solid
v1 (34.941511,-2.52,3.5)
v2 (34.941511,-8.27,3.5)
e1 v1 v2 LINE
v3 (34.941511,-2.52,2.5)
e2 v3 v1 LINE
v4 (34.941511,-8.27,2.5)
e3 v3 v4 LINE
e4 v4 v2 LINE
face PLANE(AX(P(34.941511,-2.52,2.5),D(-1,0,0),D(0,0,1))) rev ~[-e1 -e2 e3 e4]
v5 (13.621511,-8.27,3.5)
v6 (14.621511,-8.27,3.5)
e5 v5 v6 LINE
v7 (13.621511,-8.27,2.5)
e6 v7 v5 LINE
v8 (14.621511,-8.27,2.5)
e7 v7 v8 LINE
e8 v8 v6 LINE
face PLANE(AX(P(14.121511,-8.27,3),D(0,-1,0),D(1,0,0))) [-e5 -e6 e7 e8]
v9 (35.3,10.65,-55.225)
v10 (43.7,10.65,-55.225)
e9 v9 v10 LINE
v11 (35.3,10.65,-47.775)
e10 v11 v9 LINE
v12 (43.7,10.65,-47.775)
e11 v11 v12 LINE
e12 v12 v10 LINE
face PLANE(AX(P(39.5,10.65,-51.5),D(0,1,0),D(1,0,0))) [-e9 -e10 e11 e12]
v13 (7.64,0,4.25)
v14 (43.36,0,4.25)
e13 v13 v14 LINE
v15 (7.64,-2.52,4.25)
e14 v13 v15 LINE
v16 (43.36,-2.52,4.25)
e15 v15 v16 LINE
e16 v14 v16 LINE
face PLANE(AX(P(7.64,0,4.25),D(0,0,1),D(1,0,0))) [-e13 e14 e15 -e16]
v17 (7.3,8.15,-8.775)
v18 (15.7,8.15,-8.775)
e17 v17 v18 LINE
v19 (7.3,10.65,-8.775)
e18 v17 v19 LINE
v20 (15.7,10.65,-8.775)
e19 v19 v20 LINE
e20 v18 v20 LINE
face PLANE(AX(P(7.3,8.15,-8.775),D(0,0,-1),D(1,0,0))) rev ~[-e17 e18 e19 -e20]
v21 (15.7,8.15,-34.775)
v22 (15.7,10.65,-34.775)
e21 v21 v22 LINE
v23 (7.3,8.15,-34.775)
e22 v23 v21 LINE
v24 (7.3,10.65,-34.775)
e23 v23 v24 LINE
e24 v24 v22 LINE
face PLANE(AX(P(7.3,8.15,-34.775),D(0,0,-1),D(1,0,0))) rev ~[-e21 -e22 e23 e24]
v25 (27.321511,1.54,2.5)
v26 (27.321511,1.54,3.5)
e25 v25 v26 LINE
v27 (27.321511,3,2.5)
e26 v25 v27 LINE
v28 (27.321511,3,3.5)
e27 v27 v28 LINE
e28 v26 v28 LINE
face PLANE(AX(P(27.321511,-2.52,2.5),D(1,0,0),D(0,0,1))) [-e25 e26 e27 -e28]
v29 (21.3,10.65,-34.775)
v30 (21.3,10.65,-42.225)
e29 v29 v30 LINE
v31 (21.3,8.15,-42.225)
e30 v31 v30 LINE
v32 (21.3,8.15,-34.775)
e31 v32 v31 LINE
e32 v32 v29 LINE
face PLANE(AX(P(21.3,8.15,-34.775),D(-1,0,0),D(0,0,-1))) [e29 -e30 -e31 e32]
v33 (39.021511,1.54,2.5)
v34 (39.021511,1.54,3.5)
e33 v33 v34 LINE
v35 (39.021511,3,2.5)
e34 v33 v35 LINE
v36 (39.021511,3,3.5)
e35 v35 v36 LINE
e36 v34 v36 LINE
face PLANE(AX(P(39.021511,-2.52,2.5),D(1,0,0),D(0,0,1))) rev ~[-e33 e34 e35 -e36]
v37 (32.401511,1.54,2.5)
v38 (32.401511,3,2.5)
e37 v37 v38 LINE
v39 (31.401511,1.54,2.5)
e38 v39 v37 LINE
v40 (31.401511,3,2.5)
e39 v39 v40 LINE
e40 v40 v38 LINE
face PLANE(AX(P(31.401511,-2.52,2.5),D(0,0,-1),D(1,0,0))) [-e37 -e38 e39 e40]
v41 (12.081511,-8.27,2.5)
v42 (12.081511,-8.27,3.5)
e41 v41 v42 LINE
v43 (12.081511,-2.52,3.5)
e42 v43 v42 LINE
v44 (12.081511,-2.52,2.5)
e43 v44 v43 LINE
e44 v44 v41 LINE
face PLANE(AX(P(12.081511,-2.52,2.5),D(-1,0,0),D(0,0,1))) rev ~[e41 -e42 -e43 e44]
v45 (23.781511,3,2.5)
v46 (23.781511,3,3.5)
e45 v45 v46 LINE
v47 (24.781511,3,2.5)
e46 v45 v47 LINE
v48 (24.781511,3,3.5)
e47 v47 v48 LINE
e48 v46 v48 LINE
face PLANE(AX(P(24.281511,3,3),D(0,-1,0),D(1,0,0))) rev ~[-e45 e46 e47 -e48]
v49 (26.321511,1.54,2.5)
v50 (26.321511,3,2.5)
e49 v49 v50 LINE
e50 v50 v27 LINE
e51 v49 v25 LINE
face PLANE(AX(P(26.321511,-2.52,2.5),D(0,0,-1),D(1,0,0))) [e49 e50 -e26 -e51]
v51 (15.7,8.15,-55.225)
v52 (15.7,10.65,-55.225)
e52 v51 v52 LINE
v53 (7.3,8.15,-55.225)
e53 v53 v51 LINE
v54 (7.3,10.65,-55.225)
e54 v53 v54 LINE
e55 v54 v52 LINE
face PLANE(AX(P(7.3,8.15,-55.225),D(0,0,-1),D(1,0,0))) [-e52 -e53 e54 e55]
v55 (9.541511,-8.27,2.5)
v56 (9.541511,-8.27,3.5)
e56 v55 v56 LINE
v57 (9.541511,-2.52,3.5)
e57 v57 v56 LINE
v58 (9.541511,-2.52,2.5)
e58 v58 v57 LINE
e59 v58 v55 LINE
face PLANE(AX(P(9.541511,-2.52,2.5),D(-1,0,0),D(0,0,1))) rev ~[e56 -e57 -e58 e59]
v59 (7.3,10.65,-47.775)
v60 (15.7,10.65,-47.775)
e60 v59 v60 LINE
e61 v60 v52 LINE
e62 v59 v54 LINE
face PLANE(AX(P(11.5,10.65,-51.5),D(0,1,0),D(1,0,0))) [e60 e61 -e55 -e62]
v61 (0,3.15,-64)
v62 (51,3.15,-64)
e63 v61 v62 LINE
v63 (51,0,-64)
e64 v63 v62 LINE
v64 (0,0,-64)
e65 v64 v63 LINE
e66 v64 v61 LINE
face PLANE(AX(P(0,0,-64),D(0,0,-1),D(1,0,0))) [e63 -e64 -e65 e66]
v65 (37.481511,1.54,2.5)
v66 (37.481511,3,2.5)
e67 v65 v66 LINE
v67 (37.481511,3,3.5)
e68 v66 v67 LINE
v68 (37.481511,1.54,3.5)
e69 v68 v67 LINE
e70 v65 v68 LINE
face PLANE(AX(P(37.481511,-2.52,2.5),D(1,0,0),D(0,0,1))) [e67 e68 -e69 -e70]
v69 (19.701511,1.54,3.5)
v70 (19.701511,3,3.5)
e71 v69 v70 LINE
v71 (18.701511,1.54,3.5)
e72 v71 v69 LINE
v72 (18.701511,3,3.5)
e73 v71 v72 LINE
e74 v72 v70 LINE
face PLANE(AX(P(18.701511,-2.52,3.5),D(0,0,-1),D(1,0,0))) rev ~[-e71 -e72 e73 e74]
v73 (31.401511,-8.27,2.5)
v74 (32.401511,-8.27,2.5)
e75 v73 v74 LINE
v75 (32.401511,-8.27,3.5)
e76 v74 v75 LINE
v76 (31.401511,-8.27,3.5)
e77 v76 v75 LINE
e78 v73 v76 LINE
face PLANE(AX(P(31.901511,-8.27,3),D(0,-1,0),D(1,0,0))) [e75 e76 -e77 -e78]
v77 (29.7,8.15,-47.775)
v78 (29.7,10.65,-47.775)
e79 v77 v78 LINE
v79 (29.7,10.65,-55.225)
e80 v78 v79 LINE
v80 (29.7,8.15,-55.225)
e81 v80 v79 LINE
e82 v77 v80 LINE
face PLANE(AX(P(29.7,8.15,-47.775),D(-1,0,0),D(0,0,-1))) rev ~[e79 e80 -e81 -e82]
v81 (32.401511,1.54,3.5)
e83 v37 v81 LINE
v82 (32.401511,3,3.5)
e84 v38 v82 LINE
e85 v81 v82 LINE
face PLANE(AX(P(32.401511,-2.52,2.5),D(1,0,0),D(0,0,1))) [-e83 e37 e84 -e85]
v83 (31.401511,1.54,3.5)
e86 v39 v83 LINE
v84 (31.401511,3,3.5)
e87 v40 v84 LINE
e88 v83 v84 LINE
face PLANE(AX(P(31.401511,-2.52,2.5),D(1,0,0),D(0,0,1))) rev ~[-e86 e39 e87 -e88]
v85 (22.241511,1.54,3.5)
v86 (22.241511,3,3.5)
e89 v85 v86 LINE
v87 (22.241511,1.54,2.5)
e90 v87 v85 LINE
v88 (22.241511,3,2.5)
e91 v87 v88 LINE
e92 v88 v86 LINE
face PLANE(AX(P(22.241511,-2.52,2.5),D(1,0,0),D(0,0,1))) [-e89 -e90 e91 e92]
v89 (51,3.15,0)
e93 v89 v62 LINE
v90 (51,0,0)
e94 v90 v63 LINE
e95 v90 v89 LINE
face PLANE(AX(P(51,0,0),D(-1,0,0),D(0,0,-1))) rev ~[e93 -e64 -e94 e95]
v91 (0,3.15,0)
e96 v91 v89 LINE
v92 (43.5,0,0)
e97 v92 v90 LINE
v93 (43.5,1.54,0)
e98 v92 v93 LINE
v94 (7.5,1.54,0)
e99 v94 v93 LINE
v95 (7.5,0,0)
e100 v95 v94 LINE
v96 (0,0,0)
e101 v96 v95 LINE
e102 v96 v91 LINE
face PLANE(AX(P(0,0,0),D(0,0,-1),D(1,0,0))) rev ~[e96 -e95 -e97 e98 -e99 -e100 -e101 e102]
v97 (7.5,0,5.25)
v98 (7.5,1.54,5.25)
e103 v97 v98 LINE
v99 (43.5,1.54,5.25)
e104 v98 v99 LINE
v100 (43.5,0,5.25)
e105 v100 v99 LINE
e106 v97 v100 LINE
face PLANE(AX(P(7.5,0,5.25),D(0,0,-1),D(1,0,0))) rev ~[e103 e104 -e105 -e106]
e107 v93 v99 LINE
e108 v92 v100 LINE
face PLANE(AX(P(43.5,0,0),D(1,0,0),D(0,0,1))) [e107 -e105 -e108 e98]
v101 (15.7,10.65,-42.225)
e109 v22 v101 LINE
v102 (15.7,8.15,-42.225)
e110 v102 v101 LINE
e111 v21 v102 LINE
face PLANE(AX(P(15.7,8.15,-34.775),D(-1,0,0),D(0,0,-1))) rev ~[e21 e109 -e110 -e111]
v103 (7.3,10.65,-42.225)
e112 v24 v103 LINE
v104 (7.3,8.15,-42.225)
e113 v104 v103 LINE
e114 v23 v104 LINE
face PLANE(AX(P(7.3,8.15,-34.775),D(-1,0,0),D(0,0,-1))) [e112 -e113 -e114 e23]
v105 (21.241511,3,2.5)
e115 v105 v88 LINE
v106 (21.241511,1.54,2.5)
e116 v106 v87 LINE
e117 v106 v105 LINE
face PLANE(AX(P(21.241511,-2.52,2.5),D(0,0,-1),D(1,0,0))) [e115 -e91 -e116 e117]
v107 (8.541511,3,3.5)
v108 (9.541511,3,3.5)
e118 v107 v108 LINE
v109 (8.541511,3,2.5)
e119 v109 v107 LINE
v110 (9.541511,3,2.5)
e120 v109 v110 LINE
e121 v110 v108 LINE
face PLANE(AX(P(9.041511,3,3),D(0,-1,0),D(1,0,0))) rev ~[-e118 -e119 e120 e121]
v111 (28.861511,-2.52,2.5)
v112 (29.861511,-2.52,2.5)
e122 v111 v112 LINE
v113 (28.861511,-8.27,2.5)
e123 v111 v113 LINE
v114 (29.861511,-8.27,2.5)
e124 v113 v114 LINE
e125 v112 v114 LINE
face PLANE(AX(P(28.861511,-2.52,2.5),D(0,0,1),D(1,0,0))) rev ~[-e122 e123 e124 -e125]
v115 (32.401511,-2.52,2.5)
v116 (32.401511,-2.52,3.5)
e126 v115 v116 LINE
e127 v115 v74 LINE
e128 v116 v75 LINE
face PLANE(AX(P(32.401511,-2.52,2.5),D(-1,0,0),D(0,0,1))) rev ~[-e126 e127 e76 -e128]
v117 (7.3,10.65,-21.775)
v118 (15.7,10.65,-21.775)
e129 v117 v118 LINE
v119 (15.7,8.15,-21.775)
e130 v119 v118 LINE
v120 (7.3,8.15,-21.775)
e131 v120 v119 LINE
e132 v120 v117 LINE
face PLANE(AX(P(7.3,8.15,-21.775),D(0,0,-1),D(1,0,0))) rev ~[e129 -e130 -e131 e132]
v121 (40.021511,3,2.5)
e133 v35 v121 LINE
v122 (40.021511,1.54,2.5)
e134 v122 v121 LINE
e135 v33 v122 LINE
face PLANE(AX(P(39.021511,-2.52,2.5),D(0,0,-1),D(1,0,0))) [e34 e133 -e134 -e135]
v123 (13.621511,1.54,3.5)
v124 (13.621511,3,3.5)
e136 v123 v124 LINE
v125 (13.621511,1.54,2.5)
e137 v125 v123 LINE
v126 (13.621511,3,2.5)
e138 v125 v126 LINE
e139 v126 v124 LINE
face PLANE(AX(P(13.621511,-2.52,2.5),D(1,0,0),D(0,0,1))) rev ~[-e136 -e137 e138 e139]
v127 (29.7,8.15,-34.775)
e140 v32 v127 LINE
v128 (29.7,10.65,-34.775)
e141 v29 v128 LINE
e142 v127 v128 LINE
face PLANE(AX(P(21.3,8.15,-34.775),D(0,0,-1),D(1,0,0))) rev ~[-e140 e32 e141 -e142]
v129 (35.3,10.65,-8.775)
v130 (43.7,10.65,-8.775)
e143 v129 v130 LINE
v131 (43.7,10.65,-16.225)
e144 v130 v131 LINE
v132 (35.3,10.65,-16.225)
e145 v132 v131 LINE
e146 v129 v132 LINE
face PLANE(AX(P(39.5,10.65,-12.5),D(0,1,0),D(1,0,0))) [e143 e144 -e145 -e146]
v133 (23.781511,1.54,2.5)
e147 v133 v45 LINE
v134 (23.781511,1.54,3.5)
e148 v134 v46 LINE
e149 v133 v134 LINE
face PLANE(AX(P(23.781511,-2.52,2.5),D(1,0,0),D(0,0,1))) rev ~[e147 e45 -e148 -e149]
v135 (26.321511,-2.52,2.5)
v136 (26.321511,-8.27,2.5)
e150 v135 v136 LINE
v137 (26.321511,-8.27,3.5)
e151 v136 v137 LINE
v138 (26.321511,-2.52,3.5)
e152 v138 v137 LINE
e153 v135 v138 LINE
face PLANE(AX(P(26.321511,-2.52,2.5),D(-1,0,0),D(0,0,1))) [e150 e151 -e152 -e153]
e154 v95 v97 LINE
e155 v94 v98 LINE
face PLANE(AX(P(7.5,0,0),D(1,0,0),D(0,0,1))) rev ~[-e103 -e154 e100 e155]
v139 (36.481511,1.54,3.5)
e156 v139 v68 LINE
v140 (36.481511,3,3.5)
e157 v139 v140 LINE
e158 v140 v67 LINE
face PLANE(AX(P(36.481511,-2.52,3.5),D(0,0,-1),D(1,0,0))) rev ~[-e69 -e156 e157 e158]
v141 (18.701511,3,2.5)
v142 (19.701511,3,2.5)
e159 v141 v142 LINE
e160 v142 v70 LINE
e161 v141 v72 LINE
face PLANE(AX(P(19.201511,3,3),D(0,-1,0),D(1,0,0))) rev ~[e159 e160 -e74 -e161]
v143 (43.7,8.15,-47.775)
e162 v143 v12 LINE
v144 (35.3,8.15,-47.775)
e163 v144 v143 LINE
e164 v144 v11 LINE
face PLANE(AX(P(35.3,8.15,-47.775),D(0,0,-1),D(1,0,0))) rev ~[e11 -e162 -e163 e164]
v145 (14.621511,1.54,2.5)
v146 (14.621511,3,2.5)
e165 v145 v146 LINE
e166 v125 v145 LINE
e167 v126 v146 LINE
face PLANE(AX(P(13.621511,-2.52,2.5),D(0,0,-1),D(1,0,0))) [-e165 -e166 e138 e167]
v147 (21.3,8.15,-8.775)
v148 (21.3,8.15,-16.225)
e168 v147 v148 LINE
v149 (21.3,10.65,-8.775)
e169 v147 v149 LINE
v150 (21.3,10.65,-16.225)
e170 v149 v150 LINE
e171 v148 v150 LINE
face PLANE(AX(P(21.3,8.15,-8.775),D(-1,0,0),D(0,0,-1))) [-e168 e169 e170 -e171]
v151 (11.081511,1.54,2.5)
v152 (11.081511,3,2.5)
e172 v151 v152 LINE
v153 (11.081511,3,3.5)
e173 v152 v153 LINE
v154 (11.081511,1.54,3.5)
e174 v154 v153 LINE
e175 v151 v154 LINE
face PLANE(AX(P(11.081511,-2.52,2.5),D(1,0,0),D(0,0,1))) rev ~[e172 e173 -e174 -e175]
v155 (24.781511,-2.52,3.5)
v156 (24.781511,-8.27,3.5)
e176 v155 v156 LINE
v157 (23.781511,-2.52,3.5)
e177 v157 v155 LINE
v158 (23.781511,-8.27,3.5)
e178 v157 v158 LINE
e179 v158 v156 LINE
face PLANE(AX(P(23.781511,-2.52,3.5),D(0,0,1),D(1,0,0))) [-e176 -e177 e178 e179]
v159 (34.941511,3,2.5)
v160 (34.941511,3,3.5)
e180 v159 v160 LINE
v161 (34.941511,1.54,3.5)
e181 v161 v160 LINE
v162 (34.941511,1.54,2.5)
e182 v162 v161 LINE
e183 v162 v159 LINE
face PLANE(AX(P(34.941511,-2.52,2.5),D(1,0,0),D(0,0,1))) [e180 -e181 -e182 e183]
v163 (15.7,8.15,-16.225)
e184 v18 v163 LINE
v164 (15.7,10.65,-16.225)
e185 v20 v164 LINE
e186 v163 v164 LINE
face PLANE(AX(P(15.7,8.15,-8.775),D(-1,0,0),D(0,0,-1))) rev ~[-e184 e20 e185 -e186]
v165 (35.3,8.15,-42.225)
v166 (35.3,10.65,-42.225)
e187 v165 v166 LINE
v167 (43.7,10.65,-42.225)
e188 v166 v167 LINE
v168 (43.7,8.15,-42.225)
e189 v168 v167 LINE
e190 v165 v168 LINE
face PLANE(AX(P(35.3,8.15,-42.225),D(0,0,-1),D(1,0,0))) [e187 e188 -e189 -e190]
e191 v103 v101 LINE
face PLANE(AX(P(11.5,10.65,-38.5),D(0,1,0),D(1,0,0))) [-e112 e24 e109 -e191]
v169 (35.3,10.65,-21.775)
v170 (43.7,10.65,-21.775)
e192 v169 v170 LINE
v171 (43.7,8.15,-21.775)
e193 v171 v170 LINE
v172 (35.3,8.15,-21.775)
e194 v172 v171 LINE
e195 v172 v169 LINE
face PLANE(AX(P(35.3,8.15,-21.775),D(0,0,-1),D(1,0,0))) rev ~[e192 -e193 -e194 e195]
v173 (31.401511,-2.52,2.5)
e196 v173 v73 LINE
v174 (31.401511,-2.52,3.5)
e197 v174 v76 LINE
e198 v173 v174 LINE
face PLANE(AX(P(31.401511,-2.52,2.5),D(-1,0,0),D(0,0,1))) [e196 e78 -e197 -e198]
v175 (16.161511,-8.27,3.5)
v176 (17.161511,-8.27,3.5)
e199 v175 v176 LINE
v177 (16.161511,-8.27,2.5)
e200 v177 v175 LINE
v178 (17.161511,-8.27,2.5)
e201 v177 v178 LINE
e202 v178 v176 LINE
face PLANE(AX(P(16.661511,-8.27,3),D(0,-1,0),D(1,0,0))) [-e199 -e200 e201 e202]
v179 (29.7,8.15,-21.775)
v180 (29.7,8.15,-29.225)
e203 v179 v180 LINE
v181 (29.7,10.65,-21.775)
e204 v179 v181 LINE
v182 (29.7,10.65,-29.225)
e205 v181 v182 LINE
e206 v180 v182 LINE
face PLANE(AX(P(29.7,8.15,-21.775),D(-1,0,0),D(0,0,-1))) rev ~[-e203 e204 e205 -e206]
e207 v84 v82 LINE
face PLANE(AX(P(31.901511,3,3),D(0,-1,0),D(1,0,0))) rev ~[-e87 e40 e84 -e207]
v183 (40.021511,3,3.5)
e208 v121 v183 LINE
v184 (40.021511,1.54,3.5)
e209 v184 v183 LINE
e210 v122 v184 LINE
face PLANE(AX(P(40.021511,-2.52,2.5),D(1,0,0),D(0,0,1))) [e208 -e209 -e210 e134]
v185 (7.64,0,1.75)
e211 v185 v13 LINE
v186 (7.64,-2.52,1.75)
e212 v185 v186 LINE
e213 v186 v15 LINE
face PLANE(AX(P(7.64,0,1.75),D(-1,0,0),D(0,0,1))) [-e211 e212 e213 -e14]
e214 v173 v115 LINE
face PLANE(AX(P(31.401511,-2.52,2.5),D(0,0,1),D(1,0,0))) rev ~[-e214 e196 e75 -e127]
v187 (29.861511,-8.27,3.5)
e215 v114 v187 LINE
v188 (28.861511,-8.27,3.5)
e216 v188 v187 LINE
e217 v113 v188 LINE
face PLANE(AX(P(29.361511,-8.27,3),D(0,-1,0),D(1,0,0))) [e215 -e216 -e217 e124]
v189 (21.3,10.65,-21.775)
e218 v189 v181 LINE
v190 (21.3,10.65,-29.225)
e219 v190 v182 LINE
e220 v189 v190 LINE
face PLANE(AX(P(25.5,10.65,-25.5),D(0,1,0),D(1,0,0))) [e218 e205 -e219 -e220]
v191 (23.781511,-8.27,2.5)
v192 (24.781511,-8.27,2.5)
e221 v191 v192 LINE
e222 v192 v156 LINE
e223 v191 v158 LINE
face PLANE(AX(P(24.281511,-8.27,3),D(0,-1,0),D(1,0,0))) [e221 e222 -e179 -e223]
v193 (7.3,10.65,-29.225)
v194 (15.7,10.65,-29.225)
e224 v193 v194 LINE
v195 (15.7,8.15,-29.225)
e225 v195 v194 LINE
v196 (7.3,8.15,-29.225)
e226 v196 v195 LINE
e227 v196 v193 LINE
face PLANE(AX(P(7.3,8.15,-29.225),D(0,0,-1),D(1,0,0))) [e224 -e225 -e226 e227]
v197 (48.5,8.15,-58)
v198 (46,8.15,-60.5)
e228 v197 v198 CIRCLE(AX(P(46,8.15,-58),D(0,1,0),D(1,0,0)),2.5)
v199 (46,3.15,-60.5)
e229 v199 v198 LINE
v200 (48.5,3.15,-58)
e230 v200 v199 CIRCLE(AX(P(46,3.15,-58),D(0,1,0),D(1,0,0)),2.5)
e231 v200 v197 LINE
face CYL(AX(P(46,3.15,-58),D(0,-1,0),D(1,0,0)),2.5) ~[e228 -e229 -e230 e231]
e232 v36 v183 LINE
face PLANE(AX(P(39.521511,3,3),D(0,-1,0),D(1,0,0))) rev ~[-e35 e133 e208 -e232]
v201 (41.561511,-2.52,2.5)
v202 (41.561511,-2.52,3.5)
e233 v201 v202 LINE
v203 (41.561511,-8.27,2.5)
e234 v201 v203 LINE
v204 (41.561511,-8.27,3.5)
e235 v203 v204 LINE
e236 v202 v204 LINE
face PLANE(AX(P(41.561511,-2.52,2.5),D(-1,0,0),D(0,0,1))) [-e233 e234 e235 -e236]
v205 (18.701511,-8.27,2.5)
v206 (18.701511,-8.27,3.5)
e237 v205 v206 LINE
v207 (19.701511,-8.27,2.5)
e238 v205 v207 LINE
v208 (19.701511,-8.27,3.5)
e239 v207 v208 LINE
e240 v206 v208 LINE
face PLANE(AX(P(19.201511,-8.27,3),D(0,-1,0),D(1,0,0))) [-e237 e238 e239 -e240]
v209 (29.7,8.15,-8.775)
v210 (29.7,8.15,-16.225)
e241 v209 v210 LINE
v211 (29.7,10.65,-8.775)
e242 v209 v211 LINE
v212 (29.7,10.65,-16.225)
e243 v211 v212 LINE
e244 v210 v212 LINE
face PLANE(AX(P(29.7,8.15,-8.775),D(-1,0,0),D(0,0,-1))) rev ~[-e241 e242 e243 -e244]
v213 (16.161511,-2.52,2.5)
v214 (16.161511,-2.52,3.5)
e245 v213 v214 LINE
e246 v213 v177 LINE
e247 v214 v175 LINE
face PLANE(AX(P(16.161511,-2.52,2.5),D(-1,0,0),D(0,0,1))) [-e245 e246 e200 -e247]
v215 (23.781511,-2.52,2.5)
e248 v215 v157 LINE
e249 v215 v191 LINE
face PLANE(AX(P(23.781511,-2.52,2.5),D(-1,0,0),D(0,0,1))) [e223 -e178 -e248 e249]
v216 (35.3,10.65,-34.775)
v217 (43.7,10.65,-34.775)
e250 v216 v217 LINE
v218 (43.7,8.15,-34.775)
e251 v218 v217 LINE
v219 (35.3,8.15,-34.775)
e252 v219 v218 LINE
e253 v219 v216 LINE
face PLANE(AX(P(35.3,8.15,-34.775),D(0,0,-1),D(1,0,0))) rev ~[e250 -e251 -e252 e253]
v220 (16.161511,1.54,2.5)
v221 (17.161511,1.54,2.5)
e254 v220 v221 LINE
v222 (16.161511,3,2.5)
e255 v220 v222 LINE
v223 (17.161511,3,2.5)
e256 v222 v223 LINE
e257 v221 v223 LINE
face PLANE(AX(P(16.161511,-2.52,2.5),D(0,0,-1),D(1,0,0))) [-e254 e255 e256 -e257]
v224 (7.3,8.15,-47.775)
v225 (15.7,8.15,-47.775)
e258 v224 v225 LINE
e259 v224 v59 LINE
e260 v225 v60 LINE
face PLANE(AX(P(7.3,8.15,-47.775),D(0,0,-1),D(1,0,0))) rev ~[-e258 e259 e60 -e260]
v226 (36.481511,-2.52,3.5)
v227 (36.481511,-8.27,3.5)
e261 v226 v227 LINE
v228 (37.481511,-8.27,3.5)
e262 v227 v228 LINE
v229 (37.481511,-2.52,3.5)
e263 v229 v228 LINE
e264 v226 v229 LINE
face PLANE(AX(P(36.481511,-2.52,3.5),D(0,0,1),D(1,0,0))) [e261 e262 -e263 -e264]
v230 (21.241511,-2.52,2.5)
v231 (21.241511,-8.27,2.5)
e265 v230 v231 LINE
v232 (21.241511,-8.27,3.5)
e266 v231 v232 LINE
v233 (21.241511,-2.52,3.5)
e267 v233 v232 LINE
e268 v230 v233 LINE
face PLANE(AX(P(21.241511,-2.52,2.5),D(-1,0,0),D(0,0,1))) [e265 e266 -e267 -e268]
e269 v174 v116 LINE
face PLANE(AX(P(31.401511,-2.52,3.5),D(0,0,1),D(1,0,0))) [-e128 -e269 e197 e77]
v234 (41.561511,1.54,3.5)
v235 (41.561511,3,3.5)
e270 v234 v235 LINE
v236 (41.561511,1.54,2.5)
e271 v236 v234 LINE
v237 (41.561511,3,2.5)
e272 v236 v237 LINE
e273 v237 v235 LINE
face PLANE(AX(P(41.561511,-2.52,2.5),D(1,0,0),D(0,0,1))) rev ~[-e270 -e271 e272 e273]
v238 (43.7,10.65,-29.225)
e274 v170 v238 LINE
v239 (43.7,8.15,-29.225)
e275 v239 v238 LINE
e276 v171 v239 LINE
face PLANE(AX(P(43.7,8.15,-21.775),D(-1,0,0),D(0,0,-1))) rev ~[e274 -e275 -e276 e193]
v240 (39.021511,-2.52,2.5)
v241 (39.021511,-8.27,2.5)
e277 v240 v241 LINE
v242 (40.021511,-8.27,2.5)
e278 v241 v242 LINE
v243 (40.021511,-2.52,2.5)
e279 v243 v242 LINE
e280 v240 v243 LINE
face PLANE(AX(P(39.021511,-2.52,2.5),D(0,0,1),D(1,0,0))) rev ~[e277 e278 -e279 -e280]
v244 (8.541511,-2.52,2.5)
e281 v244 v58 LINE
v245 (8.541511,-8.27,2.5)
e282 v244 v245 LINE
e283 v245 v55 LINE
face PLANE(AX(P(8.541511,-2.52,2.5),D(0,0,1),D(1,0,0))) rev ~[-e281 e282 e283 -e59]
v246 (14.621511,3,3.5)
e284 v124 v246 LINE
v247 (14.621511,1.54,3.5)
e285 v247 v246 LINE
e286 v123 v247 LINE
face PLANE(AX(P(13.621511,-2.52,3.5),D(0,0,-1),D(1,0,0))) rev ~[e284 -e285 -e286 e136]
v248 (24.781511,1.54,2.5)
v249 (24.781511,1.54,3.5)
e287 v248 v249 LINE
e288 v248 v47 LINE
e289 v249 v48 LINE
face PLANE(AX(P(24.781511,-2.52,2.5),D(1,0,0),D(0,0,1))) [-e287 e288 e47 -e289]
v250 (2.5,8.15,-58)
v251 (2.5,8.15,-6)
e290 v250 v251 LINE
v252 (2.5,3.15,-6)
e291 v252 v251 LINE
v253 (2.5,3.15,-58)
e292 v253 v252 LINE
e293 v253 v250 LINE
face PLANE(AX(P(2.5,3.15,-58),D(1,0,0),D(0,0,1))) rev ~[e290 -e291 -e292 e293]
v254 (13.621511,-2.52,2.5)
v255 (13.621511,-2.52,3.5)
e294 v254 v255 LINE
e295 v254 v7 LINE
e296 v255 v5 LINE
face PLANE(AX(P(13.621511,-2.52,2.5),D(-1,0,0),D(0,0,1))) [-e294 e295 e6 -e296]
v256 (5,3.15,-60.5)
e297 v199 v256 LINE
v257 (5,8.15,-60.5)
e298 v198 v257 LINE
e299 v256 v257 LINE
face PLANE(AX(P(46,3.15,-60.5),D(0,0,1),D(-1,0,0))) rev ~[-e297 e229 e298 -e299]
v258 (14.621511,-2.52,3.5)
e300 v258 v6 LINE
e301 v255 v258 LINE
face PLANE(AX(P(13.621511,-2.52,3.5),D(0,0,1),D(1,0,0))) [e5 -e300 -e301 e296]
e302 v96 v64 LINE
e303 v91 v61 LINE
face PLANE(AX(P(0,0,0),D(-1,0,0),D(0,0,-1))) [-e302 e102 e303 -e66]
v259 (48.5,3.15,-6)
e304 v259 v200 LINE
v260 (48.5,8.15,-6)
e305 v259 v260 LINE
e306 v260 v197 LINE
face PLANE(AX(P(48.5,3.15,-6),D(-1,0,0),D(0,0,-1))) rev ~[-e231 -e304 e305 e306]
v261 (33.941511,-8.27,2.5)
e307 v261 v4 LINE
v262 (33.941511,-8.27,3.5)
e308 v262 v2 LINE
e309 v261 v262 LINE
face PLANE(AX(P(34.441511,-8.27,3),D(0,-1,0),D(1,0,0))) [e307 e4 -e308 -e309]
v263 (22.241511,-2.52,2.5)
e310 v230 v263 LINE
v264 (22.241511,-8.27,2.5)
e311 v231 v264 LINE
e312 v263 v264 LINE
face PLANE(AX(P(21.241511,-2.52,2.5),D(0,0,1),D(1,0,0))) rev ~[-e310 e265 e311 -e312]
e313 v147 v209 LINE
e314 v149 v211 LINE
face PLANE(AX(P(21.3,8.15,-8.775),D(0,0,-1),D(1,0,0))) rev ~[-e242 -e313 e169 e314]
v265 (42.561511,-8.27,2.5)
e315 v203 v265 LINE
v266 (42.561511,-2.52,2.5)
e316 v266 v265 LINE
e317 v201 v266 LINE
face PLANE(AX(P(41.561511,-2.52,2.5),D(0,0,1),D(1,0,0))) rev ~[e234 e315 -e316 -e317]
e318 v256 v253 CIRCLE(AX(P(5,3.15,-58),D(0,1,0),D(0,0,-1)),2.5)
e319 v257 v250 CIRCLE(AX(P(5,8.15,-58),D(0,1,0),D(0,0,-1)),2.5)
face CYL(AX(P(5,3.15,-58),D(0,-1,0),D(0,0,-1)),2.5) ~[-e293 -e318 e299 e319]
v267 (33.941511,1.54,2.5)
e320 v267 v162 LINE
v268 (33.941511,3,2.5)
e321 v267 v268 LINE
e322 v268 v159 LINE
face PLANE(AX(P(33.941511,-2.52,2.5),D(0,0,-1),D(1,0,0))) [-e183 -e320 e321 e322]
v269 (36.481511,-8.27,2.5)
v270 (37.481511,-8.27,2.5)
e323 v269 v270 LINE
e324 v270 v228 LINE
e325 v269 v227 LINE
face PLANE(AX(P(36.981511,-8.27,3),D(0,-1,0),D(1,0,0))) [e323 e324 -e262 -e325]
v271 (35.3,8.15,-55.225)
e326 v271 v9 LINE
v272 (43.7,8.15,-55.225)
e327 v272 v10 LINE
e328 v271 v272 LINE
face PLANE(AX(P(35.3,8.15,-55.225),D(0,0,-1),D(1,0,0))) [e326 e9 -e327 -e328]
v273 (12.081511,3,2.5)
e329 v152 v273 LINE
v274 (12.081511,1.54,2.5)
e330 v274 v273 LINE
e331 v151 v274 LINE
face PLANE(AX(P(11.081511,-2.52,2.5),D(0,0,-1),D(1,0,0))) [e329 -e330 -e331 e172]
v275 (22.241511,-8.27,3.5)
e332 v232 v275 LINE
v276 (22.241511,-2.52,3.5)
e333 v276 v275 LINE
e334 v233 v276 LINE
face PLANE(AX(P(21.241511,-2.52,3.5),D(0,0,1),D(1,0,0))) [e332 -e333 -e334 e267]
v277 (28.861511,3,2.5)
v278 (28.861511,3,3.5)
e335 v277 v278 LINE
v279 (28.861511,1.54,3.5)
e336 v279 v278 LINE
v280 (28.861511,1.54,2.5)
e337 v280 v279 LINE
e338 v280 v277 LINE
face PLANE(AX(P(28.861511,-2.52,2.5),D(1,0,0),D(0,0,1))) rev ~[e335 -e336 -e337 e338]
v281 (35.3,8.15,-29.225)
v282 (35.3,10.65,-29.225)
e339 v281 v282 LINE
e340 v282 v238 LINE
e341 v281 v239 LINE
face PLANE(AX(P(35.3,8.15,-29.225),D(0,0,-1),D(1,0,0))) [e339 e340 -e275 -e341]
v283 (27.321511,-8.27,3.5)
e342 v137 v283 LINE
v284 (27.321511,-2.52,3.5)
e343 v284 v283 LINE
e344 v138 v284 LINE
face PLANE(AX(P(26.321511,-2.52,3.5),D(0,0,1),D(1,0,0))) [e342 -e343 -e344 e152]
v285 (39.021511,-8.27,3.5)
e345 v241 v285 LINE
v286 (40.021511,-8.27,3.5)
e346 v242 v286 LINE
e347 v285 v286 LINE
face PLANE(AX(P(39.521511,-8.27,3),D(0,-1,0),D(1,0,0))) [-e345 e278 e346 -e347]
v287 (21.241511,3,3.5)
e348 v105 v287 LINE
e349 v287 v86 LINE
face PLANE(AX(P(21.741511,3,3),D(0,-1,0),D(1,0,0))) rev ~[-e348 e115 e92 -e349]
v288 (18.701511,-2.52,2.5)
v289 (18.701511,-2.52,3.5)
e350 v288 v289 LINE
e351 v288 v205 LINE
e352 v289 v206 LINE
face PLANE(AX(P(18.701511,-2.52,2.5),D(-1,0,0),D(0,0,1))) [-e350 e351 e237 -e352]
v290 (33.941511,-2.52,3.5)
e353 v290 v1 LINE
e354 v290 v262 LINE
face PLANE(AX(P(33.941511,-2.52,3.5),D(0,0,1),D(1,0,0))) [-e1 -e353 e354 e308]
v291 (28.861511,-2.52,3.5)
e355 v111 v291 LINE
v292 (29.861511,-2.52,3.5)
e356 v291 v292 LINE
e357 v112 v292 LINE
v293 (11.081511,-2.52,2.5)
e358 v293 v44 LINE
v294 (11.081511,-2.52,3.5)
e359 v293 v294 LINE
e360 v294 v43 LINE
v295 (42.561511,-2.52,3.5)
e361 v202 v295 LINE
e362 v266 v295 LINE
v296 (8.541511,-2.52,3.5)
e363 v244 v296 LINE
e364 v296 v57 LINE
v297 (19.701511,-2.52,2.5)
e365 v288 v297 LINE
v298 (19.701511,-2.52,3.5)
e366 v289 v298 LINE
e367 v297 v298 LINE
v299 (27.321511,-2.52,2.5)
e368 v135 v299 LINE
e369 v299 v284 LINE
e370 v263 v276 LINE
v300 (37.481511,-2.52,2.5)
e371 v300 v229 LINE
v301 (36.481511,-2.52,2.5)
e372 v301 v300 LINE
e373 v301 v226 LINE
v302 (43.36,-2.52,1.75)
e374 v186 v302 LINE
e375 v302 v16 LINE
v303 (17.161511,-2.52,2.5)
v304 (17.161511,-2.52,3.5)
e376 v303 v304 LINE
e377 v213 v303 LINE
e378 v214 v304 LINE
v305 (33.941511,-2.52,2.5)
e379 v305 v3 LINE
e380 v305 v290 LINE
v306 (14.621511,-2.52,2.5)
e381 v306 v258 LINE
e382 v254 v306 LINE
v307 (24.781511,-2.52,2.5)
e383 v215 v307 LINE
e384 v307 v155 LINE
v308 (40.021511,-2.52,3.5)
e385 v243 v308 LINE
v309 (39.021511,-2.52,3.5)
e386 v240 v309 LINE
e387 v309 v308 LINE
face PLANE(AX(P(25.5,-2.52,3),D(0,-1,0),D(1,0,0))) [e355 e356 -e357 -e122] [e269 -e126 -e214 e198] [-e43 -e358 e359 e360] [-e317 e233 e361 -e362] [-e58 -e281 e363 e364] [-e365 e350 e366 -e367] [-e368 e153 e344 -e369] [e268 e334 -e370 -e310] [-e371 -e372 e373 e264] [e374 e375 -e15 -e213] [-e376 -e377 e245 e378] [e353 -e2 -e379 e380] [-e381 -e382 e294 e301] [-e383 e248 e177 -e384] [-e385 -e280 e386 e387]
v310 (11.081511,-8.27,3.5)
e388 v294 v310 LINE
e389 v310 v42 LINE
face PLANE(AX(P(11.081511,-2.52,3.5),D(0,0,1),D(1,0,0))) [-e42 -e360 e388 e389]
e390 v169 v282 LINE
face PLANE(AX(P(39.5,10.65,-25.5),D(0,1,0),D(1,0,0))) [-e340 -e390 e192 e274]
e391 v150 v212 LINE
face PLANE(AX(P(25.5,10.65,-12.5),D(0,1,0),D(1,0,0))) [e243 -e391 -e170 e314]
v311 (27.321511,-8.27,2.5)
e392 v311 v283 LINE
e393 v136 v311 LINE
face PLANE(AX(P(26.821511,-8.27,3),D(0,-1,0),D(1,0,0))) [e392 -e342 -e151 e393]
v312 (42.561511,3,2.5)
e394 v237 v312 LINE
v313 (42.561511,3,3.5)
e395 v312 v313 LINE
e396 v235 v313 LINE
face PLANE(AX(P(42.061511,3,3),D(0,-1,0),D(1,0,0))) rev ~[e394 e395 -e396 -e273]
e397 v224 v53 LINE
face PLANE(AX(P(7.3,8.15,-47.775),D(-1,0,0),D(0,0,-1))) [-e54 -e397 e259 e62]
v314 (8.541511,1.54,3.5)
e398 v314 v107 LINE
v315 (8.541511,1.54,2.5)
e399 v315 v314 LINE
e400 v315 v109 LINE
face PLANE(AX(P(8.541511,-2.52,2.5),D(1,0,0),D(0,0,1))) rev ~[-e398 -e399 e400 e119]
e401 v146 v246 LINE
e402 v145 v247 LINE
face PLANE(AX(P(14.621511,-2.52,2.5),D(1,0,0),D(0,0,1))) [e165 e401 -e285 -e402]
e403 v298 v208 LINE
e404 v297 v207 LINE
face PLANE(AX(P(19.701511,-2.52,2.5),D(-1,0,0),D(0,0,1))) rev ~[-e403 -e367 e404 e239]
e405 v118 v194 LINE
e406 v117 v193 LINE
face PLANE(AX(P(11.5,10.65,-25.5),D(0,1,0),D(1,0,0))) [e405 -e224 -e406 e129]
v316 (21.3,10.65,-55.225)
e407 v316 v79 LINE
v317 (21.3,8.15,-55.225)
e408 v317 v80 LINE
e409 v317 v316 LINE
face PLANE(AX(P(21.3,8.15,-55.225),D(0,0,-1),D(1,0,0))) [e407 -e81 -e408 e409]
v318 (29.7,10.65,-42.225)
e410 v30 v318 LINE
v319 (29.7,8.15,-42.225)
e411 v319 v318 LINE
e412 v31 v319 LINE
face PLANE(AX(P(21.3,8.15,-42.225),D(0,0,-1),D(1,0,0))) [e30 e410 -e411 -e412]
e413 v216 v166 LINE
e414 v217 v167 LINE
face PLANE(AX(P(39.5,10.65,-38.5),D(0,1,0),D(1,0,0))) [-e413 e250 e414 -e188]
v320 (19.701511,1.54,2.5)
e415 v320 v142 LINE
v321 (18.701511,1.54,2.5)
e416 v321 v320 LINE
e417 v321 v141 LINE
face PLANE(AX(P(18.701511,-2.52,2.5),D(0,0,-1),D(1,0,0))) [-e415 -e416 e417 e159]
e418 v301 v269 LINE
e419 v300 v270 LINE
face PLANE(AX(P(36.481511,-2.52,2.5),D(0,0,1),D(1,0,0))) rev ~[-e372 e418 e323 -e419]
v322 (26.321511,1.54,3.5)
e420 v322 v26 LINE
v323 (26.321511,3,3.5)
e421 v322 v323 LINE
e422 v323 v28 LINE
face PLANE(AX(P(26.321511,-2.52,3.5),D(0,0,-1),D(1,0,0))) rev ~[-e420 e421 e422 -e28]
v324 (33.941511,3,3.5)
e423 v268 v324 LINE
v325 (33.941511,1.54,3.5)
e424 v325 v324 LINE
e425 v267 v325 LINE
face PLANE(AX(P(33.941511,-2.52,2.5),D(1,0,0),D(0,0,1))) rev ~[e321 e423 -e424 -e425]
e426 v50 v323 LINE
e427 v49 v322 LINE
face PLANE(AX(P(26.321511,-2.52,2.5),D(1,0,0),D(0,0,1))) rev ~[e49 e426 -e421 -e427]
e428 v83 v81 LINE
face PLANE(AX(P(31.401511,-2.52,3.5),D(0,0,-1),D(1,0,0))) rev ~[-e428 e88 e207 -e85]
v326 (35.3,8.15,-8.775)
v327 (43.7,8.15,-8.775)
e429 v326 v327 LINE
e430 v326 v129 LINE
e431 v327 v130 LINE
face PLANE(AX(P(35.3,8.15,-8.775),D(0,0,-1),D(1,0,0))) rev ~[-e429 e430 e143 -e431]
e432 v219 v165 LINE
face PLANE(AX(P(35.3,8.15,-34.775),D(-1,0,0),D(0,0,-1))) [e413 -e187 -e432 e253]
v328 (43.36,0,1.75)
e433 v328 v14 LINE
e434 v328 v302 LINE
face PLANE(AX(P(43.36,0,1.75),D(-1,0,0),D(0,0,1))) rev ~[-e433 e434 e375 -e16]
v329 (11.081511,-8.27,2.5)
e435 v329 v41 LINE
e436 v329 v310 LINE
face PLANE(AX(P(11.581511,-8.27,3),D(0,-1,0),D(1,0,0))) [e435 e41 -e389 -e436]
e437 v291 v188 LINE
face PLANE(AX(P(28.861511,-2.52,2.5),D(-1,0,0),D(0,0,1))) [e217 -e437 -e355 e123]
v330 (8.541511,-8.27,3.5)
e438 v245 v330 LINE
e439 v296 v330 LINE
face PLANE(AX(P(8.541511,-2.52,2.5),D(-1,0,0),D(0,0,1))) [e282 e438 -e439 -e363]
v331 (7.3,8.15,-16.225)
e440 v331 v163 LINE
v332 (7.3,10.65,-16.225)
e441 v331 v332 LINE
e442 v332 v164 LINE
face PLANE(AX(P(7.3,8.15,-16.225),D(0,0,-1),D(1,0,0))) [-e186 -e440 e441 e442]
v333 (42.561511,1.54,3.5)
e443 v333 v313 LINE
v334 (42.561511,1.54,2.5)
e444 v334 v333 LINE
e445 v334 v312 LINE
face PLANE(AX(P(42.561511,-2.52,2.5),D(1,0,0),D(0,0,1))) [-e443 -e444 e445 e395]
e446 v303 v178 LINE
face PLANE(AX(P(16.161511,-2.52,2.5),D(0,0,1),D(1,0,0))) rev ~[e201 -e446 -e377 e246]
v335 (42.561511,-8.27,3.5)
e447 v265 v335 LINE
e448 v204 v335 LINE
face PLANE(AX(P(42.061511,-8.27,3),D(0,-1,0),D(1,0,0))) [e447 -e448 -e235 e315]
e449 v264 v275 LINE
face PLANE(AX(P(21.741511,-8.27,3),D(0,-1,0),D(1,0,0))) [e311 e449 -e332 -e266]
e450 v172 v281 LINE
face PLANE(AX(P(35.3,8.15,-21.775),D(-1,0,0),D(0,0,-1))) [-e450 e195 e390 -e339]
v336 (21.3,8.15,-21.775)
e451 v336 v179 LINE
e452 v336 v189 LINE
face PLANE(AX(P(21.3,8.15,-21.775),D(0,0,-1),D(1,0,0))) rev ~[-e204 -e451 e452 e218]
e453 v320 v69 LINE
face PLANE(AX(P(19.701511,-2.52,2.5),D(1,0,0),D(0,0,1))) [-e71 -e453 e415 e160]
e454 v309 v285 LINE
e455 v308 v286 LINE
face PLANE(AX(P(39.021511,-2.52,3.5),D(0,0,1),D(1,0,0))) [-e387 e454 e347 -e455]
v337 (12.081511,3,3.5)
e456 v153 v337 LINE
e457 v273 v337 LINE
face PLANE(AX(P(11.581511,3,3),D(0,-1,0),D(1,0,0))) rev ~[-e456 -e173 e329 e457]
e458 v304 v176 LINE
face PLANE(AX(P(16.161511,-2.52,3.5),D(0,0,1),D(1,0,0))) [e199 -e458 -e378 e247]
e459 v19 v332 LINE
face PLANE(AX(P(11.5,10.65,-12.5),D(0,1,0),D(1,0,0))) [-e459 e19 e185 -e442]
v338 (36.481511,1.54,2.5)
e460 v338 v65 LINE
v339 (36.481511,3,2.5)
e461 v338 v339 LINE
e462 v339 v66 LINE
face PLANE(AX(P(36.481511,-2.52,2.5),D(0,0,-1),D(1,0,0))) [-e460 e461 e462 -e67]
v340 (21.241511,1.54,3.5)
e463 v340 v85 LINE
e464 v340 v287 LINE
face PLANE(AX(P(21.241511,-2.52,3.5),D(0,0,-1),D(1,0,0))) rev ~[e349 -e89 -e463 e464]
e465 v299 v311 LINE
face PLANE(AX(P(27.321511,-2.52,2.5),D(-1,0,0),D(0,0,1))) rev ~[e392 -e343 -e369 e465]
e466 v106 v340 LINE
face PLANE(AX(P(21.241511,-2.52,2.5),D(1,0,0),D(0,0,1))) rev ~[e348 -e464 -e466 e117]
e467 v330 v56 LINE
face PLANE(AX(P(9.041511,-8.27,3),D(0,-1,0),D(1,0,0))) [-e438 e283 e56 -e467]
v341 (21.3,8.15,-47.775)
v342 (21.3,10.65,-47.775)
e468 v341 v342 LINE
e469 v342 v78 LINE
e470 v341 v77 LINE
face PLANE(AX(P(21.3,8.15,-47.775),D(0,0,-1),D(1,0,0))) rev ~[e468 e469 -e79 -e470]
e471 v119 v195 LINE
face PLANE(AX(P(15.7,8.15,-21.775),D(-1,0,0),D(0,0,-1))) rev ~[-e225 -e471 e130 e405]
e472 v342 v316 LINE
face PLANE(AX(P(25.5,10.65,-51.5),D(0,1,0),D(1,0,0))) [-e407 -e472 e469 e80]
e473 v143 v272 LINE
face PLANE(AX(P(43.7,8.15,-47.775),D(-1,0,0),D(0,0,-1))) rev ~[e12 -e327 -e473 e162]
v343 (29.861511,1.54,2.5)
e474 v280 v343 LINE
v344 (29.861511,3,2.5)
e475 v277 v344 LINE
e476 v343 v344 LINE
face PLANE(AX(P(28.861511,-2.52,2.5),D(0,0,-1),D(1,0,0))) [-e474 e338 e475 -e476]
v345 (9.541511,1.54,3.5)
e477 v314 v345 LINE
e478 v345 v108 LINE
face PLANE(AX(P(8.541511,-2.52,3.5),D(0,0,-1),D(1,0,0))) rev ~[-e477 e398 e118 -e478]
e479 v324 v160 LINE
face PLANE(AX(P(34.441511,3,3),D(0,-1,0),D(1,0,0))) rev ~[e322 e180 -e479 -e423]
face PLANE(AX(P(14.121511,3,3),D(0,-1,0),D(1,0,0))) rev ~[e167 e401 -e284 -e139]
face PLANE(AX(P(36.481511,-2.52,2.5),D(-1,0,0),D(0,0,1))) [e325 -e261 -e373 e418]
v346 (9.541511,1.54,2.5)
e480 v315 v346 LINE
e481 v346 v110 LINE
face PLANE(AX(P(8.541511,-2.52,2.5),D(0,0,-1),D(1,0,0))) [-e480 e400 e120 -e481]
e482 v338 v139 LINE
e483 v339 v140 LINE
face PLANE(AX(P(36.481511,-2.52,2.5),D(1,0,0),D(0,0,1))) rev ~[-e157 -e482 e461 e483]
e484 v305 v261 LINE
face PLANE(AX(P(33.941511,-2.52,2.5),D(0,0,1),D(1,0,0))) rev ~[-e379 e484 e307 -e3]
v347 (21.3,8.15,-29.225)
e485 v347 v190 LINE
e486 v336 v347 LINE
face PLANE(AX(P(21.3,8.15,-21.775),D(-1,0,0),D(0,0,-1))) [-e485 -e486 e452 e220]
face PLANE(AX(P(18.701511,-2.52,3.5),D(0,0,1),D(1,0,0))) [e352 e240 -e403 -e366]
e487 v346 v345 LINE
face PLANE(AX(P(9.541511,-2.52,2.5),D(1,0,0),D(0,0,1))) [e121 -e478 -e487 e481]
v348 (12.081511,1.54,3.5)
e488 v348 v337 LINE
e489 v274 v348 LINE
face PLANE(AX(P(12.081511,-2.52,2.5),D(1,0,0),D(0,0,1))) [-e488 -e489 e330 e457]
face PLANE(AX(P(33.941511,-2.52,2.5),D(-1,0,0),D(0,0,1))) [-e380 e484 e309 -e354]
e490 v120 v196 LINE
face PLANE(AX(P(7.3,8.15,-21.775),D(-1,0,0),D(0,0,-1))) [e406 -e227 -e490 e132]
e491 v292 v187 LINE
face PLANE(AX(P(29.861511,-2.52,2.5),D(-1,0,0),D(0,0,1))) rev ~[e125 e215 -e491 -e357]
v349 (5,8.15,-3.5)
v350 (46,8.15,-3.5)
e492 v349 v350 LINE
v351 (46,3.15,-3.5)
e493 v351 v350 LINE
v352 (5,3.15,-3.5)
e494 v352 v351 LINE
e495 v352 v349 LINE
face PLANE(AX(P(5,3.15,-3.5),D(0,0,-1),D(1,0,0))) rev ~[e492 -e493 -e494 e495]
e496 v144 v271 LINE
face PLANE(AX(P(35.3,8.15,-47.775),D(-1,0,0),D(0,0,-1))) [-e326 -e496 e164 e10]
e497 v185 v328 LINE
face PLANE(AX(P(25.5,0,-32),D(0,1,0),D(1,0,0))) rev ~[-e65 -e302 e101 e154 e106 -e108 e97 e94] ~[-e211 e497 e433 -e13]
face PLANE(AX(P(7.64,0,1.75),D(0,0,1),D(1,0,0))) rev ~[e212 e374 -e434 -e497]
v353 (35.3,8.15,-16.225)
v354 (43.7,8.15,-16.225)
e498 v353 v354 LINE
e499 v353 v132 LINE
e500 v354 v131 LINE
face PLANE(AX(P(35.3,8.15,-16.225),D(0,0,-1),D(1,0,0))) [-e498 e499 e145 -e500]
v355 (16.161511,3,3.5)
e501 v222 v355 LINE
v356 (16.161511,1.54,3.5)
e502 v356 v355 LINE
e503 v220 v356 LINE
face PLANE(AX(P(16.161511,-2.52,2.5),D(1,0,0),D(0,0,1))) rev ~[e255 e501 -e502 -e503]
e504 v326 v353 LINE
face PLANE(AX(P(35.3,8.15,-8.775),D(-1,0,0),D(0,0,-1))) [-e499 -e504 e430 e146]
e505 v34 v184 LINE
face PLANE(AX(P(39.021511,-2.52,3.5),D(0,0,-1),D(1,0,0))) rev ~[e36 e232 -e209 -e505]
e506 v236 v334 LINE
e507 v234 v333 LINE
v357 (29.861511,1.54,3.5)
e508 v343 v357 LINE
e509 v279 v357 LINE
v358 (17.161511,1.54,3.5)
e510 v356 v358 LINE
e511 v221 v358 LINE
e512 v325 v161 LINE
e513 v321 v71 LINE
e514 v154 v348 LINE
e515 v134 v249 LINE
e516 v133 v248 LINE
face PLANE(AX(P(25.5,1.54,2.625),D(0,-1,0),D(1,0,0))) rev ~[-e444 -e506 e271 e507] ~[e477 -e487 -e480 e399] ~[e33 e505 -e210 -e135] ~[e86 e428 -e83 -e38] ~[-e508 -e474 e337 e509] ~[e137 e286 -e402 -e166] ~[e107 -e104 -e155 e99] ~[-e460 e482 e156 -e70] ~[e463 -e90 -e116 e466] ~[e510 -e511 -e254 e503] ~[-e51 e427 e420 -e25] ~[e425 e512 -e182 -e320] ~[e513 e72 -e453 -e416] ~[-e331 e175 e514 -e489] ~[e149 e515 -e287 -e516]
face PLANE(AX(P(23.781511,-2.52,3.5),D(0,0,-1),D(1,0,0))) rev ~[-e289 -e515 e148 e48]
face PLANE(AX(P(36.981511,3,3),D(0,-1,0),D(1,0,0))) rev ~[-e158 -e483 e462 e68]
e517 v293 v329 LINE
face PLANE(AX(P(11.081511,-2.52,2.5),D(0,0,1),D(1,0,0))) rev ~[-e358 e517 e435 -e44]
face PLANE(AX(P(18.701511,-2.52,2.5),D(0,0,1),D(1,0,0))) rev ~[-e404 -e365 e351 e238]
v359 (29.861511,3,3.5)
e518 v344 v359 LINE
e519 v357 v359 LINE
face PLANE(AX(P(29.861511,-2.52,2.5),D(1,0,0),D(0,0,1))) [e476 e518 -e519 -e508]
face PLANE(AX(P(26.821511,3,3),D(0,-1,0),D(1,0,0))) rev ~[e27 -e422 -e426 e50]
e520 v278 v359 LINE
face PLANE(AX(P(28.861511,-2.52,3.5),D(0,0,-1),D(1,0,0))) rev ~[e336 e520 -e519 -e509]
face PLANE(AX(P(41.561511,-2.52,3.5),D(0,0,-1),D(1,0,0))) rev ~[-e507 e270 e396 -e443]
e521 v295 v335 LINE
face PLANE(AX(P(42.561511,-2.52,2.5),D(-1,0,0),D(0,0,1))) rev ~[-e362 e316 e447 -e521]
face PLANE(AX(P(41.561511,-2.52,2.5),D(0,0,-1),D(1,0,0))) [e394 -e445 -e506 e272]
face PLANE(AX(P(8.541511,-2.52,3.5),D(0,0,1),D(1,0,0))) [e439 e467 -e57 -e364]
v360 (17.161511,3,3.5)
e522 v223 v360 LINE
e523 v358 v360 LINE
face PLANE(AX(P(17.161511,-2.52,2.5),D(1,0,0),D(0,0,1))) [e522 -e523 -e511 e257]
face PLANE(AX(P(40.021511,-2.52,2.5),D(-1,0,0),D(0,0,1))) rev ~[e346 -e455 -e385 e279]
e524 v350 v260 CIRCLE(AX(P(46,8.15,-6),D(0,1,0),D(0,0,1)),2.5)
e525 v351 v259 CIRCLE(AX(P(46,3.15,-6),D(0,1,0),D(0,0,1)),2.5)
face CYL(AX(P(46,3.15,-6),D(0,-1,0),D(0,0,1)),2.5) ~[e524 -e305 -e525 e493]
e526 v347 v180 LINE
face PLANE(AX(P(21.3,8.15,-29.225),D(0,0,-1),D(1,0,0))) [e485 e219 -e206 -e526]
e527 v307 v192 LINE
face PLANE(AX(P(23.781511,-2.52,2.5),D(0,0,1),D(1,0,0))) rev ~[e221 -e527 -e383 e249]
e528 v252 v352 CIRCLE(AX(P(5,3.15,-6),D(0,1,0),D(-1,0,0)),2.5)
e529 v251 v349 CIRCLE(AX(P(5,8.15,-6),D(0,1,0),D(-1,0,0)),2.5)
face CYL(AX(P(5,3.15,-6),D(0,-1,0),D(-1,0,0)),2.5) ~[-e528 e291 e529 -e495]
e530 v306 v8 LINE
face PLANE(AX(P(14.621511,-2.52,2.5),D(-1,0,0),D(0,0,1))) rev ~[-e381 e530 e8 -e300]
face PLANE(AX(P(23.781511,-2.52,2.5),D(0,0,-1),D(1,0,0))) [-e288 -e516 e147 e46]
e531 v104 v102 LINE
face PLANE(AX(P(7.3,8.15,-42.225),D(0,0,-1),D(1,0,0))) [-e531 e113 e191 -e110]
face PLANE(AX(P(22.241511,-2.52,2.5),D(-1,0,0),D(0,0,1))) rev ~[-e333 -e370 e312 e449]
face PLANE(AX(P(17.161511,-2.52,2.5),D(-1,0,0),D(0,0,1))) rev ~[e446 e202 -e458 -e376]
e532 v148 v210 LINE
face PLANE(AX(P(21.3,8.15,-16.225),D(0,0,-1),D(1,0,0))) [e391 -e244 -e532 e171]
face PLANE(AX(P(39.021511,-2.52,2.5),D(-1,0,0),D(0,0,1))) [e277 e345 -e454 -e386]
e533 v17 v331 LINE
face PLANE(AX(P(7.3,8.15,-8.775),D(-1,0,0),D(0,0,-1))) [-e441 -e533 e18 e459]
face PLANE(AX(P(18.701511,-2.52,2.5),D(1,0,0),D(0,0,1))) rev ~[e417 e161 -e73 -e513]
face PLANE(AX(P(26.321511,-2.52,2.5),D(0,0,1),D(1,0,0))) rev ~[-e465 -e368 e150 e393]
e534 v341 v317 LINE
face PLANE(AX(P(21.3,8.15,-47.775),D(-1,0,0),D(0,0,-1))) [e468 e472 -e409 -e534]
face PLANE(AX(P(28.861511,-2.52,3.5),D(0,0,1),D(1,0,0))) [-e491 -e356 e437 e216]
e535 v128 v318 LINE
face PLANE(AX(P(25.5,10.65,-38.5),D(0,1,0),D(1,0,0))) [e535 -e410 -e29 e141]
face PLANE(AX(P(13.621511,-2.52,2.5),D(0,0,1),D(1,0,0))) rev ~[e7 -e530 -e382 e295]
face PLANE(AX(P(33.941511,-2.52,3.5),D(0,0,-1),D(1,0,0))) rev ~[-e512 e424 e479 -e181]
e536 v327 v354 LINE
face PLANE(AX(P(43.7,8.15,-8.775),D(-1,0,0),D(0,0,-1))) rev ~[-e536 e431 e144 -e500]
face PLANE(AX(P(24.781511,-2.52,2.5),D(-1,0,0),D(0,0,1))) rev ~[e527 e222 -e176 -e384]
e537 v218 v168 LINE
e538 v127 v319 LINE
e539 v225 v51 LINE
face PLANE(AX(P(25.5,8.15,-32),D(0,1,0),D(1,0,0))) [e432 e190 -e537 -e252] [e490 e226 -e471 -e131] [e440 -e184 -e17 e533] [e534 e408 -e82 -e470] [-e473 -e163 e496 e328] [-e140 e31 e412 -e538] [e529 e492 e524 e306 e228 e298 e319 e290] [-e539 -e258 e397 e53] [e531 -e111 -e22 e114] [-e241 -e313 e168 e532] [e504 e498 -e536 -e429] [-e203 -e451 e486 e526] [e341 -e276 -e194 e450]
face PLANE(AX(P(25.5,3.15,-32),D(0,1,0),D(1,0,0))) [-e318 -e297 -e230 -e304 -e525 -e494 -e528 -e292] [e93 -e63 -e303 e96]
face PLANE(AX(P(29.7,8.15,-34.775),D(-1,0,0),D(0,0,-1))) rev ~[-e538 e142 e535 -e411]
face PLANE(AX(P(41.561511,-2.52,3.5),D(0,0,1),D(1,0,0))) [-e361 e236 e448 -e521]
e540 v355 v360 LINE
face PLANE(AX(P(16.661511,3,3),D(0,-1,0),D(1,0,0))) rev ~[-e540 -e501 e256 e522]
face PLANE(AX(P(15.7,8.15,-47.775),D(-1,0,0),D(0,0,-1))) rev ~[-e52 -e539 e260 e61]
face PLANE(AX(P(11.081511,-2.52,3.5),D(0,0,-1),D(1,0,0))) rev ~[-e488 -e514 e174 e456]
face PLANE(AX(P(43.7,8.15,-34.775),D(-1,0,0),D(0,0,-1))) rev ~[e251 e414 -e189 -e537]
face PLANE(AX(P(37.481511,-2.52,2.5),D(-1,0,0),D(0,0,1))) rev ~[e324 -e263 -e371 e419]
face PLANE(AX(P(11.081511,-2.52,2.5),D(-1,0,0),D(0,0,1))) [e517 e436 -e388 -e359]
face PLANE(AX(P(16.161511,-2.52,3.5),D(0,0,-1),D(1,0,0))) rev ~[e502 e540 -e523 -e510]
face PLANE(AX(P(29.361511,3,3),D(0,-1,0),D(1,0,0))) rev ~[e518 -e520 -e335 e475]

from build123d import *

# Parameters (mm, degrees)
ESQUISSE1_W             = 51
ESQUISSE1_H             = 64
BOSS_EXTRU_1_DEPTH      = 3.15
BOSS_EXTRU_2_DEPTH      = 5
ESQUISSE3_W             = 8.4
ESQUISSE3_H             = 7.45
BOSS_EXTRU_3_DEPTH      = 2.5
ESQUISSE4_W             = 36
ESQUISSE4_H             = 5.25
BOSS_EXTRU_4_DEPTH      = 1.54
ESQUISSE5_W             = 35.72
ESQUISSE5_H             = 2.5
BOSS_EXTRU_5_DEPTH      = 2.52
ESQUISSE6_W             = 1
ESQUISSE6_H             = 1
BOSS_EXTRU_6_DEPTH      = 5.75
BOSS_EXTRU_6_DEPTH_BACK = 5.52


with BuildPart() as part:
    # Esquisse1 → Boss.-Extru.1 (new body)
    with BuildSketch(Plane(origin=(0, 0, 0), x_dir=(1, 0, 0), z_dir=(0, 1, 0))):
        with Locations((25.5, 32)):
            Rectangle(ESQUISSE1_W, ESQUISSE1_H)
    extrude(amount=BOSS_EXTRU_1_DEPTH)

    # Esquisse2 → Boss.-Extru.2 (add)
    with BuildSketch(Plane(origin=(0, 3.15, 0), x_dir=(1, 0, 0), z_dir=(0, 1, 0))):
        with BuildLine():
            Line((2.5, 58), (2.5, 6))
            ThreePointArc((2.5, 6), (3.232233047, 4.232233047), (5, 3.5))
            Line((5, 3.5), (46, 3.5))
            ThreePointArc((46, 3.5), (47.767766953, 4.232233047), (48.5, 6))
            Line((48.5, 6), (48.5, 58))
            ThreePointArc((48.5, 58), (47.767766953, 59.767766953), (46, 60.5))
            Line((46, 60.5), (5, 60.5))
            ThreePointArc((5, 60.5), (3.232233047, 59.767766953), (2.5, 58))
        make_face()
    extrude(amount=BOSS_EXTRU_2_DEPTH)

    # Esquisse3 → Boss.-Extru.3 (add)
    with BuildSketch(Plane(origin=(0, 8.15, 0), x_dir=(1, 0, 0), z_dir=(0, 1, 0))):
        with Locations((11.5, 38.5)):
            Rectangle(ESQUISSE3_W, ESQUISSE3_H)
        with Locations((11.5, 51.5)):
            Rectangle(ESQUISSE3_W, ESQUISSE3_H)
        with Locations((25.5, 51.5)):
            Rectangle(ESQUISSE3_W, ESQUISSE3_H)
        with Locations((39.5, 51.5)):
            Rectangle(ESQUISSE3_W, ESQUISSE3_H)
        with Locations((25.5, 38.5)):
            Rectangle(ESQUISSE3_W, ESQUISSE3_H)
        with Locations((39.5, 38.5)):
            Rectangle(ESQUISSE3_W, ESQUISSE3_H)
        with Locations((11.5, 12.5)):
            Rectangle(ESQUISSE3_W, ESQUISSE3_H)
        with Locations((11.5, 25.5)):
            Rectangle(ESQUISSE3_W, ESQUISSE3_H)
        with Locations((25.5, 25.5)):
            Rectangle(ESQUISSE3_W, ESQUISSE3_H)
        with Locations((39.5, 25.5)):
            Rectangle(ESQUISSE3_W, ESQUISSE3_H)
        with Locations((25.5, 12.5)):
            Rectangle(ESQUISSE3_W, ESQUISSE3_H)
        with Locations((39.5, 12.5)):
            Rectangle(ESQUISSE3_W, ESQUISSE3_H)
    extrude(amount=BOSS_EXTRU_3_DEPTH)

    # Esquisse4 → Boss.-Extru.4 (add)
    with BuildSketch(Plane.XZ):
        with Locations((25.5, 2.625)):
            Rectangle(ESQUISSE4_W, ESQUISSE4_H)
    extrude(amount=-BOSS_EXTRU_4_DEPTH)

    # Esquisse5 → Boss.-Extru.5 (add)
    with BuildSketch(Plane.XZ):
        with Locations((25.5, 3)):
            Rectangle(ESQUISSE5_W, ESQUISSE5_H)
    extrude(amount=BOSS_EXTRU_5_DEPTH)

    # Esquisse6 → Boss.-Extru.6 (add, two sides)
    with BuildSketch(Plane.XZ.offset(2.52)) as boss_extru_6_sk:
        with Locations((9.041511345, 3)):
            Rectangle(ESQUISSE6_W, ESQUISSE6_H)
        with Locations((11.581511345, 3)):
            Rectangle(ESQUISSE6_W, ESQUISSE6_H)
        with Locations((14.121511345, 3)):
            Rectangle(ESQUISSE6_W, ESQUISSE6_H)
        with Locations((16.661511345, 3)):
            Rectangle(ESQUISSE6_W, ESQUISSE6_H)
        with Locations((19.201511345, 3)):
            Rectangle(ESQUISSE6_W, ESQUISSE6_H)
        with Locations((21.741511345, 3)):
            Rectangle(ESQUISSE6_W, ESQUISSE6_H)
        with Locations((24.281511345, 3)):
            Rectangle(ESQUISSE6_W, ESQUISSE6_H)
        with Locations((26.821511345, 3)):
            Rectangle(ESQUISSE6_W, ESQUISSE6_H)
        with Locations((29.361511345, 3)):
            Rectangle(ESQUISSE6_W, ESQUISSE6_H)
        with Locations((31.901511345, 3)):
            Rectangle(ESQUISSE6_W, ESQUISSE6_H)
        with Locations((34.441511345, 3)):
            Rectangle(ESQUISSE6_W, ESQUISSE6_H)
        with Locations((36.981511345, 3)):
            Rectangle(ESQUISSE6_W, ESQUISSE6_H)
        with Locations((39.521511345, 3)):
            Rectangle(ESQUISSE6_W, ESQUISSE6_H)
        with Locations((42.061511345, 3)):
            Rectangle(ESQUISSE6_W, ESQUISSE6_H)
    extrude(amount=BOSS_EXTRU_6_DEPTH)
    extrude(boss_extru_6_sk.sketch, amount=-BOSS_EXTRU_6_DEPTH_BACK)


solid = part.part
